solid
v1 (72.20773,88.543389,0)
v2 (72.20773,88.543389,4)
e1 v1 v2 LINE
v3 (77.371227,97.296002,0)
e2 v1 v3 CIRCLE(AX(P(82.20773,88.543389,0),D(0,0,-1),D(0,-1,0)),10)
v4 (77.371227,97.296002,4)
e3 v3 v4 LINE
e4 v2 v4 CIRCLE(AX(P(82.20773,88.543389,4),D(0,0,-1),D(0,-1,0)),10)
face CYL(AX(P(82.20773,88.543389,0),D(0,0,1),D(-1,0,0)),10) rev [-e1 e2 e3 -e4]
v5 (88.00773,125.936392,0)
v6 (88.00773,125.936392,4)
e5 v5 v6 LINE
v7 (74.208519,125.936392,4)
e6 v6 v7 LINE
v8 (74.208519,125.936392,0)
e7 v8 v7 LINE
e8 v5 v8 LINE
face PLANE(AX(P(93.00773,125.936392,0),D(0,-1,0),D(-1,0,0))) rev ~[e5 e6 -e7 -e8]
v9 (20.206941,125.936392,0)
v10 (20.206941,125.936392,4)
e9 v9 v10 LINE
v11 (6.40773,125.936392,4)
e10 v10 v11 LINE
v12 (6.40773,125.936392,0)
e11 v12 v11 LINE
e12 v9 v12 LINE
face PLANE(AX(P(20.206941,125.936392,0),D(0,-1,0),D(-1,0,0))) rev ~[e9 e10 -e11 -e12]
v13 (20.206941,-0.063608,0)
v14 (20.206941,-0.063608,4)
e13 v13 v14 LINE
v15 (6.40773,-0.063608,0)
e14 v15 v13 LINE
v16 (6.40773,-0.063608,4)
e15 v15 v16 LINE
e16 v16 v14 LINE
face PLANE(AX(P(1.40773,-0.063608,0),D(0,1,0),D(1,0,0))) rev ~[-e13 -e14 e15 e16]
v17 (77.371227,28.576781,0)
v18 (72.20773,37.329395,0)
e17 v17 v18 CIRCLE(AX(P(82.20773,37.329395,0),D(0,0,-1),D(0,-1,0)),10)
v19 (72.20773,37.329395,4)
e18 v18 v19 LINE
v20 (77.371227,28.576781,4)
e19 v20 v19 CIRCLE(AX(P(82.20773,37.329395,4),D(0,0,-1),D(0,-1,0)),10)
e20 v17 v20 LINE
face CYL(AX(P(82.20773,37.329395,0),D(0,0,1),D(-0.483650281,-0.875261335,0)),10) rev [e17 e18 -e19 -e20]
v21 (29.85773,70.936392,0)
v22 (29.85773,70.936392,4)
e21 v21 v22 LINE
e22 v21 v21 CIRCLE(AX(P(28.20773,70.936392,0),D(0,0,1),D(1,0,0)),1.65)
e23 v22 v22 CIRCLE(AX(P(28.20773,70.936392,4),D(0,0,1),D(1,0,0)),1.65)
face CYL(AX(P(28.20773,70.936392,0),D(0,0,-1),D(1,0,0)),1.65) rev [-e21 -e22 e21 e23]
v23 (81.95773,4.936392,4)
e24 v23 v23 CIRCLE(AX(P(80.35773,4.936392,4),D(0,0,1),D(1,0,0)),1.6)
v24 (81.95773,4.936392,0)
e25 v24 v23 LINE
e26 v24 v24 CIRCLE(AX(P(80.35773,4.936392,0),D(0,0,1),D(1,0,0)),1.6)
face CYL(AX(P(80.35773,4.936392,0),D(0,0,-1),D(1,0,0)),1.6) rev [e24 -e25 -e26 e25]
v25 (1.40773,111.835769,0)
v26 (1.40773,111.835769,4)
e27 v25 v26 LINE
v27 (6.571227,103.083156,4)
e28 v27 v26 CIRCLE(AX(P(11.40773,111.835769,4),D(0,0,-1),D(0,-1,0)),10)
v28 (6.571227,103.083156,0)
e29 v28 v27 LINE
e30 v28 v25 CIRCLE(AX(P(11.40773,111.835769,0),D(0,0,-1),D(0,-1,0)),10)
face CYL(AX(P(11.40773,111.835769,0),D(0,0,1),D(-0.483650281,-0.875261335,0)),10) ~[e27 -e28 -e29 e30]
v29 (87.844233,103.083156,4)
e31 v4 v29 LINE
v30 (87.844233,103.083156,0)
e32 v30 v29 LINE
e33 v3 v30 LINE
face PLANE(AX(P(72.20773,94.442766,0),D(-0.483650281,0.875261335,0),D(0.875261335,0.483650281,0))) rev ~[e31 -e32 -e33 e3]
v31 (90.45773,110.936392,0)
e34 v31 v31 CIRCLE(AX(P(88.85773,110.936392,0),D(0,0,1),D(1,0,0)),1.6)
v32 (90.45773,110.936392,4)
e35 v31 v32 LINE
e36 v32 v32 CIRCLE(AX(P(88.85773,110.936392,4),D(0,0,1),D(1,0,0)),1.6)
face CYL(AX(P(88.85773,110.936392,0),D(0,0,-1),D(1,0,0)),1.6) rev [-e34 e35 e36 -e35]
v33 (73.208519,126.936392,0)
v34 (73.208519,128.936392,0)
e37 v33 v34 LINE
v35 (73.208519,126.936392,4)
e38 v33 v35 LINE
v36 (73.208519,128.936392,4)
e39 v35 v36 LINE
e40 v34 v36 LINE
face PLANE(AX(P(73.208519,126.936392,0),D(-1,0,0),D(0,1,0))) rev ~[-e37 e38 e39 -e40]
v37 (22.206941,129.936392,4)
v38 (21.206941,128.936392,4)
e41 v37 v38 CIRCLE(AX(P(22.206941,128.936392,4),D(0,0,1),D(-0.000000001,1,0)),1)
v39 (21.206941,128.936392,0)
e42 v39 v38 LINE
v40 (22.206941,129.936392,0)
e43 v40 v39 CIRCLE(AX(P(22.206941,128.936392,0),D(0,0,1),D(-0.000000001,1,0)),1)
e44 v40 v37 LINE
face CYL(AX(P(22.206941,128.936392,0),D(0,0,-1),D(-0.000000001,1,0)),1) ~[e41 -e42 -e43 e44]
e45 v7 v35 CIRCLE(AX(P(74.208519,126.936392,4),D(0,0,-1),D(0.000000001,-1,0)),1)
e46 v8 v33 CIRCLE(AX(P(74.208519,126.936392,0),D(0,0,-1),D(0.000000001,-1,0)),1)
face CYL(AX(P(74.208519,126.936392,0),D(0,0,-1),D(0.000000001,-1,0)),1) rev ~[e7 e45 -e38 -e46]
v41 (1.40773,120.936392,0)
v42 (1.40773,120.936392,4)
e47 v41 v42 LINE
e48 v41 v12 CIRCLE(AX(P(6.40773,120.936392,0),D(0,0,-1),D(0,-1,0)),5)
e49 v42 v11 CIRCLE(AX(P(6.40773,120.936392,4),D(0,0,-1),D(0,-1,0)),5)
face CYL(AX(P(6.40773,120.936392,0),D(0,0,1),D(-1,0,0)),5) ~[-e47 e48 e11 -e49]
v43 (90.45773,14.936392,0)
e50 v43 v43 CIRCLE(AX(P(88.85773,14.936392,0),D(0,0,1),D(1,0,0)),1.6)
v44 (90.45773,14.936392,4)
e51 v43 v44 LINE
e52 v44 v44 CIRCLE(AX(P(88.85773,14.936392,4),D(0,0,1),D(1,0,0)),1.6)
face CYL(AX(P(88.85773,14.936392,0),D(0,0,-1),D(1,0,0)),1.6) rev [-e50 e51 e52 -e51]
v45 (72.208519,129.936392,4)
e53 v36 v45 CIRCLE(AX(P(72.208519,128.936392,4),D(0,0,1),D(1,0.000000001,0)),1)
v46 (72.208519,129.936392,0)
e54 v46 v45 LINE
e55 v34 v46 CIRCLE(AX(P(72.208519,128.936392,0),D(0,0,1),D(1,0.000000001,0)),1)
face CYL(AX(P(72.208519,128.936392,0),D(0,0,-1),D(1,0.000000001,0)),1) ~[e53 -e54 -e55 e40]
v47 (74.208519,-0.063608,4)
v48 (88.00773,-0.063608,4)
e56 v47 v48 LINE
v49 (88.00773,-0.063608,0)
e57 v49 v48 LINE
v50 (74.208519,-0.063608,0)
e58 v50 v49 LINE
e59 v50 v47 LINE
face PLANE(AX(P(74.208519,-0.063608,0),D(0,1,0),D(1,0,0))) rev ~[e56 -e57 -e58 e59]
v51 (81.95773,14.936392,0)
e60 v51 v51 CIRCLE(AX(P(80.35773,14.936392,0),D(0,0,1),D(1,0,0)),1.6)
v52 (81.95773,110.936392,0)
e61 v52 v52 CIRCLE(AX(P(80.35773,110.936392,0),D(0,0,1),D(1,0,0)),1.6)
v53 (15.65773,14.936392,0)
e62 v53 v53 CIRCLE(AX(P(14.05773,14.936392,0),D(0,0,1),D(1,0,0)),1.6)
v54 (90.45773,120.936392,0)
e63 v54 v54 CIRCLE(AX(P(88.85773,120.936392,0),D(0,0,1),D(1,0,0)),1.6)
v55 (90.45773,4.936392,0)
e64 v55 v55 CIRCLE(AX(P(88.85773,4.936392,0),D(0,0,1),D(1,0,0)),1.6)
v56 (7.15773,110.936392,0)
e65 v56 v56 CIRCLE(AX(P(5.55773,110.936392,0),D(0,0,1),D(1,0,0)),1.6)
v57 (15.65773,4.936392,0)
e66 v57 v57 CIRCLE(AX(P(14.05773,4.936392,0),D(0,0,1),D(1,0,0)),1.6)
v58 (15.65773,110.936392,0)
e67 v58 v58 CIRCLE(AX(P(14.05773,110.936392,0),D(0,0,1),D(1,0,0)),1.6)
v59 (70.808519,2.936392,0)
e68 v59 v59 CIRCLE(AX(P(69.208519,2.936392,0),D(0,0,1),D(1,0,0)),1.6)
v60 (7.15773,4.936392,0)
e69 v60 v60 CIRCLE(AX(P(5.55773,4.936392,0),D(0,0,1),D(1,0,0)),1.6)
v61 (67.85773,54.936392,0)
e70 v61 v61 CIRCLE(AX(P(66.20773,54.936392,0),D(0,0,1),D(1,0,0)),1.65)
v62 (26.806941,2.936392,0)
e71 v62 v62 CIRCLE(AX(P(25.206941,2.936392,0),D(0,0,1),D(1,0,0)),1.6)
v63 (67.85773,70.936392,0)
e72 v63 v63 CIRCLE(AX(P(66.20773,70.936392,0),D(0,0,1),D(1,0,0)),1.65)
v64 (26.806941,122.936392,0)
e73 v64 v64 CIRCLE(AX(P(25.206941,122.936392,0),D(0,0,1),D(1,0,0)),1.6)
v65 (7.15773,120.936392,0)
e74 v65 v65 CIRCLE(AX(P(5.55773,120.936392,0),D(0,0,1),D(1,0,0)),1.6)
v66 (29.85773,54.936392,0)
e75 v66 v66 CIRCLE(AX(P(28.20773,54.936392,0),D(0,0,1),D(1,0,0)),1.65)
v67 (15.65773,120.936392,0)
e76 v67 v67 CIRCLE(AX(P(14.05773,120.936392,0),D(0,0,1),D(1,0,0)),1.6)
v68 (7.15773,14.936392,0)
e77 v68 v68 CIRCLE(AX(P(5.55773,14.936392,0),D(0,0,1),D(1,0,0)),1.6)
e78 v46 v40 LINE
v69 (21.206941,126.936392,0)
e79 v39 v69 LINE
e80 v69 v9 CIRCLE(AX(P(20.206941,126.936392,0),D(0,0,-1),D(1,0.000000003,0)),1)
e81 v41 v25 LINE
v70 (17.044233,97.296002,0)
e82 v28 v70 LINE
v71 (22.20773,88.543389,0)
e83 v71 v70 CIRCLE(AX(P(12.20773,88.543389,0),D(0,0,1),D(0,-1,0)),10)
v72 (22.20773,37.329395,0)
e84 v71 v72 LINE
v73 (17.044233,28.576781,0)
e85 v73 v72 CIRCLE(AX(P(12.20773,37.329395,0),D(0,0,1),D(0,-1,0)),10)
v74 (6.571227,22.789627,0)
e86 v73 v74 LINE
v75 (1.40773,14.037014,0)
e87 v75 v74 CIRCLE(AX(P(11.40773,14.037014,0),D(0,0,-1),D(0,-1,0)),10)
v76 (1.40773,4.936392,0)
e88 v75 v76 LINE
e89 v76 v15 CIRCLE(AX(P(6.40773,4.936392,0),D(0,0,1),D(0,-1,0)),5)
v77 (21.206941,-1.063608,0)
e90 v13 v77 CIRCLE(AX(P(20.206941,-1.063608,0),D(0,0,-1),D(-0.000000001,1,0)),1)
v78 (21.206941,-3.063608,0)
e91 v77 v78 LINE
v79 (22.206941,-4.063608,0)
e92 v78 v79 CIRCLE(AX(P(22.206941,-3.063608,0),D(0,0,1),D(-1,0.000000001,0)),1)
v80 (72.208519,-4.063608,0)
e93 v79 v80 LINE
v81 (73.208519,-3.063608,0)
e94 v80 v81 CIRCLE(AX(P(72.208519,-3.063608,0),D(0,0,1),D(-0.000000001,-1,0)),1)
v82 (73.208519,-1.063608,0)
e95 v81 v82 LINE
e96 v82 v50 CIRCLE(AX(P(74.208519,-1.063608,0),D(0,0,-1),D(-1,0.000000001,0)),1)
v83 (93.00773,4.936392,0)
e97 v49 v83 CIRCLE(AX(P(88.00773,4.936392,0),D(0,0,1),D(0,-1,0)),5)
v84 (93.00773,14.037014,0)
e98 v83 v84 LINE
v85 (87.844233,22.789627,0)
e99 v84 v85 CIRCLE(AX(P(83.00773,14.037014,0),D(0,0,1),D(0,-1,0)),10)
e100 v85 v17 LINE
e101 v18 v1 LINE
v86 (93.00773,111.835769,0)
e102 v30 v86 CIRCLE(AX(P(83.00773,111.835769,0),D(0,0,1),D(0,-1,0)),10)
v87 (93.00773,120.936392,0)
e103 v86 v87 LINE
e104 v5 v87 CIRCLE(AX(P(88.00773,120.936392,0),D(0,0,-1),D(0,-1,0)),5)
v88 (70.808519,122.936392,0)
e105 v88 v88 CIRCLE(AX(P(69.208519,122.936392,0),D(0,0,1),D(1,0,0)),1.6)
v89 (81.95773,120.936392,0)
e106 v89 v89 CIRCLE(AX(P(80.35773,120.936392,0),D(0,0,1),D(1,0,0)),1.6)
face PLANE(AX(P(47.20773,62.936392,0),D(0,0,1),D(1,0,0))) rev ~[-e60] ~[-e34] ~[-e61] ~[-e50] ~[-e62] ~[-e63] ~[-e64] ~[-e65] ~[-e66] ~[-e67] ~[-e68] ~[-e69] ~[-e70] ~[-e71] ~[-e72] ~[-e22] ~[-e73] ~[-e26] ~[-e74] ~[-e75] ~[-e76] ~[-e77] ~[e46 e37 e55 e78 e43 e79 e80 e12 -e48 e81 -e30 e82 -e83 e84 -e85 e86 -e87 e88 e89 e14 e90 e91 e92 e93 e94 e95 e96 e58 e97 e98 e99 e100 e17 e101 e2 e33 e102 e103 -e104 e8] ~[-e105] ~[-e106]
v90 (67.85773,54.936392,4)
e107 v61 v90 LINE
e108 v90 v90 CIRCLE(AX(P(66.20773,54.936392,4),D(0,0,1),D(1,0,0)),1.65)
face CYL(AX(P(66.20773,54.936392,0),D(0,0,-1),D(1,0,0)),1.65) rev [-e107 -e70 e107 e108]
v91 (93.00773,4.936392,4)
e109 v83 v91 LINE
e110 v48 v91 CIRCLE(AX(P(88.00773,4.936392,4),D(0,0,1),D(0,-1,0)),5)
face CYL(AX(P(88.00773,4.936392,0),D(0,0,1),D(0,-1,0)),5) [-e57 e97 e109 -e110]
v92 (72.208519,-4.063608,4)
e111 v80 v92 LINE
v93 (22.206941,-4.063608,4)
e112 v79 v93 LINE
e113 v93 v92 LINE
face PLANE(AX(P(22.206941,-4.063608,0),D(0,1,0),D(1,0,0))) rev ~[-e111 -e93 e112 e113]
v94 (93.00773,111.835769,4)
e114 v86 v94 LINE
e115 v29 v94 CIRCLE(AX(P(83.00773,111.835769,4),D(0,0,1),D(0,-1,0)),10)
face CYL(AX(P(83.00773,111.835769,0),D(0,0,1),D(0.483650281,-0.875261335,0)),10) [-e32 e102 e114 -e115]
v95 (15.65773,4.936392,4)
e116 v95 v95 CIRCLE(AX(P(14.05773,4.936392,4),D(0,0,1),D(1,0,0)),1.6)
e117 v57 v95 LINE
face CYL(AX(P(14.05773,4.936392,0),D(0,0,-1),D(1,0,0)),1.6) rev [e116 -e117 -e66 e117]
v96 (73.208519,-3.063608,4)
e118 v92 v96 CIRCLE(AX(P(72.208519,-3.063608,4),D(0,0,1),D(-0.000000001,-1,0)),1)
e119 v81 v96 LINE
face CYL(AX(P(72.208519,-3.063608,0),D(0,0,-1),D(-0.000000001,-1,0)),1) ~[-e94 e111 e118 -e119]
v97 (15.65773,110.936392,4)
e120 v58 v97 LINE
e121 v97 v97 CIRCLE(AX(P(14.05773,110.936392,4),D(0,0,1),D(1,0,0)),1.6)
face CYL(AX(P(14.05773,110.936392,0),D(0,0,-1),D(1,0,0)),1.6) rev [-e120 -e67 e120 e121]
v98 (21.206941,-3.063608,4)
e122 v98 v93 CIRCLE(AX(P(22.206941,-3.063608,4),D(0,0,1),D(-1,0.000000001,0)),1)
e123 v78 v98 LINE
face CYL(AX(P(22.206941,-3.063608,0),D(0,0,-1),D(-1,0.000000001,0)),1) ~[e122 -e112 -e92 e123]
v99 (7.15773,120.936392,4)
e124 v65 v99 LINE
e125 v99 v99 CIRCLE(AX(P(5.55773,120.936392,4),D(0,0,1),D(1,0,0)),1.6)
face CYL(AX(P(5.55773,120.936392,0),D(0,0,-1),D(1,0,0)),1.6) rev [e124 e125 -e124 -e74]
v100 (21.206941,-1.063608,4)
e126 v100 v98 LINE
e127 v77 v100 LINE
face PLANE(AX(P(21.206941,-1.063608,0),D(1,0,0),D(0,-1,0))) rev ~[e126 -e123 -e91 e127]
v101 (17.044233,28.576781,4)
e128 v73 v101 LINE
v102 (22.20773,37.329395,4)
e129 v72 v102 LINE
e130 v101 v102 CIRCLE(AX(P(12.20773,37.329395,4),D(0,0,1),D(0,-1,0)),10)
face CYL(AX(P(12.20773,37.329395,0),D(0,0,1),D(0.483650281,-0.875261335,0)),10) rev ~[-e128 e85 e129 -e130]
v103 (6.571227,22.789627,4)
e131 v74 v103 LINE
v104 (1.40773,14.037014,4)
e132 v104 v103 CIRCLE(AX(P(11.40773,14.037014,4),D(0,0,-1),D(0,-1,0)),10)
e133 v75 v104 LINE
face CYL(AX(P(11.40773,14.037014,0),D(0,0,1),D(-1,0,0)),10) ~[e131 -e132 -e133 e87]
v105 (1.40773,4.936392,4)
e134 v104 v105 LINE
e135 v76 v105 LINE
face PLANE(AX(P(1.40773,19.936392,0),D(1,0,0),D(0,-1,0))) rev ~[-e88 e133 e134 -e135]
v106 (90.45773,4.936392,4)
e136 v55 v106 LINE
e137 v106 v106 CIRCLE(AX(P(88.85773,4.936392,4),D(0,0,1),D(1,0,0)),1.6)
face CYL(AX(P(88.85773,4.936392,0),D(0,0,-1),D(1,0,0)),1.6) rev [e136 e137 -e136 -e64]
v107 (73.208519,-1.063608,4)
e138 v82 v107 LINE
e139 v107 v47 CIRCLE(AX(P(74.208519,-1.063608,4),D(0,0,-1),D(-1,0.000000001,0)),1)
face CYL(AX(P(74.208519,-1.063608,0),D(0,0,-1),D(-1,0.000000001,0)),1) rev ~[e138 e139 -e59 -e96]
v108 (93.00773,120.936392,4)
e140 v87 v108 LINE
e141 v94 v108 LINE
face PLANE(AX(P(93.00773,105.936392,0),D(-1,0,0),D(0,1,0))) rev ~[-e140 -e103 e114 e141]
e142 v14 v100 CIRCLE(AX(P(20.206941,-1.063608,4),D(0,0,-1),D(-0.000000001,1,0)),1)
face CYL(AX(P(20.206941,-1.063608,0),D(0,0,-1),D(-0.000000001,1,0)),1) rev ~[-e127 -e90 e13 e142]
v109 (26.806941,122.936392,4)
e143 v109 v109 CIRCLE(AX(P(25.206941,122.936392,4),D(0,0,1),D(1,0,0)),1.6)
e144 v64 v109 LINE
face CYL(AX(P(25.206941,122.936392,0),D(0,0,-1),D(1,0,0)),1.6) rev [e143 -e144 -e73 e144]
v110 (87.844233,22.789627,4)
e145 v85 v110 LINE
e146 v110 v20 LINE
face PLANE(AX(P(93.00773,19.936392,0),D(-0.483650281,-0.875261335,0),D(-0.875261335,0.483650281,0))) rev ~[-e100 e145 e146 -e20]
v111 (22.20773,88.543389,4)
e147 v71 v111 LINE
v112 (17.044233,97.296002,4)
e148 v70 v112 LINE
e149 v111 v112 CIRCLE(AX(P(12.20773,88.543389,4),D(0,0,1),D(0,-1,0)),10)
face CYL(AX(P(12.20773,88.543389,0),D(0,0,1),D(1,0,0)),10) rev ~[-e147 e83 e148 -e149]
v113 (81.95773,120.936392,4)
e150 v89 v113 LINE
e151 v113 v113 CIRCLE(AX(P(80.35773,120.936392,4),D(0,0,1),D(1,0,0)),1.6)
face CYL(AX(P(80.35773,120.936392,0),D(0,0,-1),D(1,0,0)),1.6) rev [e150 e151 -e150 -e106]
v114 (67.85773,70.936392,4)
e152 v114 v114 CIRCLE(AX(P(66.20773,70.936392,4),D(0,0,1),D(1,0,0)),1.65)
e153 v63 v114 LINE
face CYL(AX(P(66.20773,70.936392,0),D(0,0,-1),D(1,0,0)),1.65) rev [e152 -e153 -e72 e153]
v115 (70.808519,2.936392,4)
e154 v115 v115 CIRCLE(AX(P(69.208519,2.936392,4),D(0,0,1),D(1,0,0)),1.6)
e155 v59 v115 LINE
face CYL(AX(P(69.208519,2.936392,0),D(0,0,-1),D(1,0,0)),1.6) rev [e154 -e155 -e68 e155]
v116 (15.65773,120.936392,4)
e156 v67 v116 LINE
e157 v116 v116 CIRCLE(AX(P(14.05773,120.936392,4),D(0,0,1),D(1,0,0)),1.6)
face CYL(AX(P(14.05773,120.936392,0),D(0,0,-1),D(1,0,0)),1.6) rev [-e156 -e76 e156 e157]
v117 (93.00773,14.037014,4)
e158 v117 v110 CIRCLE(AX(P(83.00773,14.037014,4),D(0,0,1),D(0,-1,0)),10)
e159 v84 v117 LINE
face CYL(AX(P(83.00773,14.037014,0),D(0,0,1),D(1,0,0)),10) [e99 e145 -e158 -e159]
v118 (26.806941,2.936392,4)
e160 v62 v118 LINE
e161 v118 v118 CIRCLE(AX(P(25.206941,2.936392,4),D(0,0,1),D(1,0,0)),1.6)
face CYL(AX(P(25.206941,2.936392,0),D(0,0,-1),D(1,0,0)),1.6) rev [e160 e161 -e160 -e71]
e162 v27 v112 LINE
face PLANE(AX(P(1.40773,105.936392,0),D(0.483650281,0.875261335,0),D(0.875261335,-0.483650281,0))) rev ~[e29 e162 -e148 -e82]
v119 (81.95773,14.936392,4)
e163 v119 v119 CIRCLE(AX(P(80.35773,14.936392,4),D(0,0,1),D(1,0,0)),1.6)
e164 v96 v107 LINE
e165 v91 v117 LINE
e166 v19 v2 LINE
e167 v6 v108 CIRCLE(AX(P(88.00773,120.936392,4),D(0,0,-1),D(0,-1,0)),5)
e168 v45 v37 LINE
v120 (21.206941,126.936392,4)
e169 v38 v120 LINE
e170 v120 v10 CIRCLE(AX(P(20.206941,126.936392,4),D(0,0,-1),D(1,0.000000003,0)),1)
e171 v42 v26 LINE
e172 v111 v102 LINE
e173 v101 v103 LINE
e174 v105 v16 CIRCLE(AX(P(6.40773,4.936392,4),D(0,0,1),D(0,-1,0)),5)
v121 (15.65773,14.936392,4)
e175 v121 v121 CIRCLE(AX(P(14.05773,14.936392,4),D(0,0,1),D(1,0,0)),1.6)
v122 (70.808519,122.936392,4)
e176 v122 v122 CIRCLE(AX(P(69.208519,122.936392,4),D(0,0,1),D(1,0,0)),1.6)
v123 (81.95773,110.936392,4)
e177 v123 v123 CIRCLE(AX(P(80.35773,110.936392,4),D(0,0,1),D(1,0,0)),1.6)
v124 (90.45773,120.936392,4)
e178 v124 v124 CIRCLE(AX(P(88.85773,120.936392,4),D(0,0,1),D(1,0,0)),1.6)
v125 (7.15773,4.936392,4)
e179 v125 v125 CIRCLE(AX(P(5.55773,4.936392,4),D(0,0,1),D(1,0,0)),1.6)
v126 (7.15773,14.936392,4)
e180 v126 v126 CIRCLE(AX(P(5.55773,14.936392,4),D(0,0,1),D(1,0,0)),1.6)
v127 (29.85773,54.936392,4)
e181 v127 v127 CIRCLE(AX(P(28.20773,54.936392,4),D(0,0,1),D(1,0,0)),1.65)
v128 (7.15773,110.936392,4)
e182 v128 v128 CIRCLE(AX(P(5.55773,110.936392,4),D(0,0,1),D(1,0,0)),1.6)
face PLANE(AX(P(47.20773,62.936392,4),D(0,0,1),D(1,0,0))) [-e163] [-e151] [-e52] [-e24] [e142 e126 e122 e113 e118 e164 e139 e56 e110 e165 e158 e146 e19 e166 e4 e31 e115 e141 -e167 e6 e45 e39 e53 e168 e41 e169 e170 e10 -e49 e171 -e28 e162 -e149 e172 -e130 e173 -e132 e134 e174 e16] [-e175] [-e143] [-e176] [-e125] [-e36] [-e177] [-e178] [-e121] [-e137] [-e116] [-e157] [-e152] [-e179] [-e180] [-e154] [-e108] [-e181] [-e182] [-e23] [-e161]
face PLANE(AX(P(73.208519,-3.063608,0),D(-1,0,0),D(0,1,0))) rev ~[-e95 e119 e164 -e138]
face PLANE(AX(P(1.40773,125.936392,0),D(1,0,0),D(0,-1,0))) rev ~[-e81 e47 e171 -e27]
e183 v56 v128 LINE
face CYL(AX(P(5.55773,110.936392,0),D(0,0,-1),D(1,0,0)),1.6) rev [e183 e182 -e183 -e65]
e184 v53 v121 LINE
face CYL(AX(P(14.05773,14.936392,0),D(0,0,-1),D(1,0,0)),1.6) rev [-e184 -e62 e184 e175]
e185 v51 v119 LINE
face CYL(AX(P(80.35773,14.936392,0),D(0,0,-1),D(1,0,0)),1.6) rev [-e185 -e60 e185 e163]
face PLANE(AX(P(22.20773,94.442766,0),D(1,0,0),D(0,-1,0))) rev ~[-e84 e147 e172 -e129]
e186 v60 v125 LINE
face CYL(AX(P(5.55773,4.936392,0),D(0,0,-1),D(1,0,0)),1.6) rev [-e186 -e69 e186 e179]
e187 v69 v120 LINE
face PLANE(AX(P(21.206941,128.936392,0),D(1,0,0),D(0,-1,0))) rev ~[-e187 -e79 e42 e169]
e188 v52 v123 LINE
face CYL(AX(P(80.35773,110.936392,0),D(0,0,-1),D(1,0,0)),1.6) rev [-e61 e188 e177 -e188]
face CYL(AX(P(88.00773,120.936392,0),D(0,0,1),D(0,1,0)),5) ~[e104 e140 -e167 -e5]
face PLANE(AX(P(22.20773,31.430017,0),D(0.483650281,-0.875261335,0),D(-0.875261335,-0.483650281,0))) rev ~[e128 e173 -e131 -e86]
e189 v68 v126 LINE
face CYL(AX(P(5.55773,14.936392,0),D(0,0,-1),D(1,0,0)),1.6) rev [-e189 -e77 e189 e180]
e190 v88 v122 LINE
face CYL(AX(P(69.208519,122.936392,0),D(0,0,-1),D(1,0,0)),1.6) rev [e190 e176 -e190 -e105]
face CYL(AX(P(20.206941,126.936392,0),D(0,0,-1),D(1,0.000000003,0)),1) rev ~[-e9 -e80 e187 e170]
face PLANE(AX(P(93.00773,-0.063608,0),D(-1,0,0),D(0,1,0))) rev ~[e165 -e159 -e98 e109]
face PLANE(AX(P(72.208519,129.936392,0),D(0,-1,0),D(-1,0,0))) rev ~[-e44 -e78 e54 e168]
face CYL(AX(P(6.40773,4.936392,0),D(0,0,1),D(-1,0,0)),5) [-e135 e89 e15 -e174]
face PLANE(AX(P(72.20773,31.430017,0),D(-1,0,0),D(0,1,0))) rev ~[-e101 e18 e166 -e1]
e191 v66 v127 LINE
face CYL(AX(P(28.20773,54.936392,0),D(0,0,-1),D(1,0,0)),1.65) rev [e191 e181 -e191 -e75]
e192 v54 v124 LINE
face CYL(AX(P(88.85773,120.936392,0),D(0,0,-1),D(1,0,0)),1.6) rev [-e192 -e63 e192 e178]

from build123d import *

# Parameters (mm, degrees)
SKETCH1_R           = 1.6
SKETCH1_R_2         = 1.65
BOSS_EXTRUDE1_DEPTH = 4
FILLET2_R           = 10
FILLET3_R           = 5


with BuildPart() as part:
    # Sketch1 → Boss-Extrude1 (new body)
    with BuildSketch(Plane.XY):
        with BuildLine():
            Line((1.40773023, -0.063608297), (20.206941284, -0.063608297))
            ThreePointArc((20.206941284, -0.063608297), (20.914048066, -0.356501516), (21.206941284, -1.063608297))
            Line((21.206941284, -1.063608297), (21.206941284, -3.063608297))
            ThreePointArc((21.206941284, -3.063608297), (21.499834503, -3.770715079), (22.206941284, -4.063608297))
            Line((22.206941284, -4.063608297), (72.208519176, -4.063608297))
            ThreePointArc((72.208519176, -4.063608297), (72.915625957, -3.770715079), (73.208519176, -3.063608297))
            Line((73.208519176, -3.063608297), (73.208519176, -1.063608297))
            ThreePointArc((73.208519176, -1.063608297), (73.501412395, -0.356501516), (74.208519176, -0.063608297))
            Line((74.208519176, -0.063608297), (93.00773023, -0.063608297))
            Line((93.00773023, -0.063608297), (93.00773023, 19.936391703))
            Line((93.00773023, 19.936391703), (72.20773023, 31.430017028))
            Line((72.20773023, 31.430017028), (72.20773023, 94.442766377))
            Line((72.20773023, 94.442766377), (93.00773023, 105.936391703))
            Line((93.00773023, 105.936391703), (93.00773023, 125.936391703))
            Line((93.00773023, 125.936391703), (74.208519176, 125.936391703))
            ThreePointArc((74.208519176, 125.936391703), (73.501412395, 126.229284921), (73.208519176, 126.936391703))
            Line((73.208519176, 126.936391703), (73.208519176, 128.936391703))
            ThreePointArc((73.208519176, 128.936391703), (72.915625957, 129.643498484), (72.208519176, 129.936391703))
            Line((72.208519176, 129.936391703), (22.206941284, 129.936391703))
            ThreePointArc((22.206941284, 129.936391703), (21.499834503, 129.643498484), (21.206941284, 128.936391703))
            Line((21.206941284, 128.936391703), (21.206941284, 126.936391703))
            ThreePointArc((21.206941284, 126.936391703), (20.914048066, 126.229284921), (20.206941284, 125.936391703))
            Line((20.206941284, 125.936391703), (1.40773023, 125.936391703))
            Line((1.40773023, 125.936391703), (1.40773023, 105.936391703))
            Line((1.40773023, 105.936391703), (22.20773023, 94.442766377))
            Line((22.20773023, 94.442766377), (22.20773023, 31.430017028))
            Line((22.20773023, 31.430017028), (1.40773023, 19.936391703))
            Line((1.40773023, 19.936391703), (1.40773023, -0.063608297))
        make_face()
        with Locations((5.55773023, 4.936391703)):
            Circle(SKETCH1_R, mode=Mode.SUBTRACT)
        with Locations((14.05773023, 4.936391703)):
            Circle(SKETCH1_R, mode=Mode.SUBTRACT)
        with Locations((14.05773023, 14.936391703)):
            Circle(SKETCH1_R, mode=Mode.SUBTRACT)
        with Locations((5.55773023, 14.936391703)):
            Circle(SKETCH1_R, mode=Mode.SUBTRACT)
        with Locations((69.208519176, 2.936391703)):
            Circle(SKETCH1_R, mode=Mode.SUBTRACT)
        with Locations((66.20773023, 54.936391703)):
            Circle(SKETCH1_R_2, mode=Mode.SUBTRACT)
        with Locations((88.85773023, 14.936391703)):
            Circle(SKETCH1_R, mode=Mode.SUBTRACT)
        with Locations((80.35773023, 14.936391703)):
            Circle(SKETCH1_R, mode=Mode.SUBTRACT)
        with Locations((80.35773023, 4.936391703)):
            Circle(SKETCH1_R, mode=Mode.SUBTRACT)
        with Locations((88.85773023, 4.936391703)):
            Circle(SKETCH1_R, mode=Mode.SUBTRACT)
        with Locations((28.20773023, 54.936391703)):
            Circle(SKETCH1_R_2, mode=Mode.SUBTRACT)
        with Locations((25.206941284, 2.936391703)):
            Circle(SKETCH1_R, mode=Mode.SUBTRACT)
        with Locations((25.206941284, 122.936391703)):
            Circle(SKETCH1_R, mode=Mode.SUBTRACT)
        with Locations((28.20773023, 70.936391703)):
            Circle(SKETCH1_R_2, mode=Mode.SUBTRACT)
        with Locations((88.85773023, 120.936391703)):
            Circle(SKETCH1_R, mode=Mode.SUBTRACT)
        with Locations((80.35773023, 120.936391703)):
            Circle(SKETCH1_R, mode=Mode.SUBTRACT)
        with Locations((80.35773023, 110.936391703)):
            Circle(SKETCH1_R, mode=Mode.SUBTRACT)
        with Locations((88.85773023, 110.936391703)):
            Circle(SKETCH1_R, mode=Mode.SUBTRACT)
        with Locations((66.20773023, 70.936391703)):
            Circle(SKETCH1_R_2, mode=Mode.SUBTRACT)
        with Locations((69.208519176, 122.936391703)):
            Circle(SKETCH1_R, mode=Mode.SUBTRACT)
        with Locations((5.55773023, 110.936391703)):
            Circle(SKETCH1_R, mode=Mode.SUBTRACT)
        with Locations((14.05773023, 110.936391703)):
            Circle(SKETCH1_R, mode=Mode.SUBTRACT)
        with Locations((14.05773023, 120.936391703)):
            Circle(SKETCH1_R, mode=Mode.SUBTRACT)
        with Locations((5.55773023, 120.936391703)):
            Circle(SKETCH1_R, mode=Mode.SUBTRACT)
    extrude(amount=BOSS_EXTRUDE1_DEPTH)

    # Fillet2
    fillet2_edges = [part.edges().sort_by_distance(p)[0] for p in [
        (1.40773023, 19.936391703, 2),
        (22.20773023, 31.430017028, 2),
        (22.20773023, 94.442766377, 2),
        (1.40773023, 105.936391703, 2),
        (93.00773023, 105.936391703, 2),
        (72.20773023, 94.442766377, 2),
        (72.20773023, 31.430017028, 2),
        (93.00773023, 19.936391703, 2),
    ]]
    fillet(fillet2_edges, radius=FILLET2_R)

    # Fillet3
    fillet3_edges = [part.edges().sort_by_distance(p)[0] for p in [
        (1.40773023, 125.936391703, 2),
        (93.00773023, 125.936391703, 2),
        (93.00773023, -0.063608297, 2),
        (1.40773023, -0.063608297, 2),
    ]]
    fillet(fillet3_edges, radius=FILLET3_R)


solid = part.part
